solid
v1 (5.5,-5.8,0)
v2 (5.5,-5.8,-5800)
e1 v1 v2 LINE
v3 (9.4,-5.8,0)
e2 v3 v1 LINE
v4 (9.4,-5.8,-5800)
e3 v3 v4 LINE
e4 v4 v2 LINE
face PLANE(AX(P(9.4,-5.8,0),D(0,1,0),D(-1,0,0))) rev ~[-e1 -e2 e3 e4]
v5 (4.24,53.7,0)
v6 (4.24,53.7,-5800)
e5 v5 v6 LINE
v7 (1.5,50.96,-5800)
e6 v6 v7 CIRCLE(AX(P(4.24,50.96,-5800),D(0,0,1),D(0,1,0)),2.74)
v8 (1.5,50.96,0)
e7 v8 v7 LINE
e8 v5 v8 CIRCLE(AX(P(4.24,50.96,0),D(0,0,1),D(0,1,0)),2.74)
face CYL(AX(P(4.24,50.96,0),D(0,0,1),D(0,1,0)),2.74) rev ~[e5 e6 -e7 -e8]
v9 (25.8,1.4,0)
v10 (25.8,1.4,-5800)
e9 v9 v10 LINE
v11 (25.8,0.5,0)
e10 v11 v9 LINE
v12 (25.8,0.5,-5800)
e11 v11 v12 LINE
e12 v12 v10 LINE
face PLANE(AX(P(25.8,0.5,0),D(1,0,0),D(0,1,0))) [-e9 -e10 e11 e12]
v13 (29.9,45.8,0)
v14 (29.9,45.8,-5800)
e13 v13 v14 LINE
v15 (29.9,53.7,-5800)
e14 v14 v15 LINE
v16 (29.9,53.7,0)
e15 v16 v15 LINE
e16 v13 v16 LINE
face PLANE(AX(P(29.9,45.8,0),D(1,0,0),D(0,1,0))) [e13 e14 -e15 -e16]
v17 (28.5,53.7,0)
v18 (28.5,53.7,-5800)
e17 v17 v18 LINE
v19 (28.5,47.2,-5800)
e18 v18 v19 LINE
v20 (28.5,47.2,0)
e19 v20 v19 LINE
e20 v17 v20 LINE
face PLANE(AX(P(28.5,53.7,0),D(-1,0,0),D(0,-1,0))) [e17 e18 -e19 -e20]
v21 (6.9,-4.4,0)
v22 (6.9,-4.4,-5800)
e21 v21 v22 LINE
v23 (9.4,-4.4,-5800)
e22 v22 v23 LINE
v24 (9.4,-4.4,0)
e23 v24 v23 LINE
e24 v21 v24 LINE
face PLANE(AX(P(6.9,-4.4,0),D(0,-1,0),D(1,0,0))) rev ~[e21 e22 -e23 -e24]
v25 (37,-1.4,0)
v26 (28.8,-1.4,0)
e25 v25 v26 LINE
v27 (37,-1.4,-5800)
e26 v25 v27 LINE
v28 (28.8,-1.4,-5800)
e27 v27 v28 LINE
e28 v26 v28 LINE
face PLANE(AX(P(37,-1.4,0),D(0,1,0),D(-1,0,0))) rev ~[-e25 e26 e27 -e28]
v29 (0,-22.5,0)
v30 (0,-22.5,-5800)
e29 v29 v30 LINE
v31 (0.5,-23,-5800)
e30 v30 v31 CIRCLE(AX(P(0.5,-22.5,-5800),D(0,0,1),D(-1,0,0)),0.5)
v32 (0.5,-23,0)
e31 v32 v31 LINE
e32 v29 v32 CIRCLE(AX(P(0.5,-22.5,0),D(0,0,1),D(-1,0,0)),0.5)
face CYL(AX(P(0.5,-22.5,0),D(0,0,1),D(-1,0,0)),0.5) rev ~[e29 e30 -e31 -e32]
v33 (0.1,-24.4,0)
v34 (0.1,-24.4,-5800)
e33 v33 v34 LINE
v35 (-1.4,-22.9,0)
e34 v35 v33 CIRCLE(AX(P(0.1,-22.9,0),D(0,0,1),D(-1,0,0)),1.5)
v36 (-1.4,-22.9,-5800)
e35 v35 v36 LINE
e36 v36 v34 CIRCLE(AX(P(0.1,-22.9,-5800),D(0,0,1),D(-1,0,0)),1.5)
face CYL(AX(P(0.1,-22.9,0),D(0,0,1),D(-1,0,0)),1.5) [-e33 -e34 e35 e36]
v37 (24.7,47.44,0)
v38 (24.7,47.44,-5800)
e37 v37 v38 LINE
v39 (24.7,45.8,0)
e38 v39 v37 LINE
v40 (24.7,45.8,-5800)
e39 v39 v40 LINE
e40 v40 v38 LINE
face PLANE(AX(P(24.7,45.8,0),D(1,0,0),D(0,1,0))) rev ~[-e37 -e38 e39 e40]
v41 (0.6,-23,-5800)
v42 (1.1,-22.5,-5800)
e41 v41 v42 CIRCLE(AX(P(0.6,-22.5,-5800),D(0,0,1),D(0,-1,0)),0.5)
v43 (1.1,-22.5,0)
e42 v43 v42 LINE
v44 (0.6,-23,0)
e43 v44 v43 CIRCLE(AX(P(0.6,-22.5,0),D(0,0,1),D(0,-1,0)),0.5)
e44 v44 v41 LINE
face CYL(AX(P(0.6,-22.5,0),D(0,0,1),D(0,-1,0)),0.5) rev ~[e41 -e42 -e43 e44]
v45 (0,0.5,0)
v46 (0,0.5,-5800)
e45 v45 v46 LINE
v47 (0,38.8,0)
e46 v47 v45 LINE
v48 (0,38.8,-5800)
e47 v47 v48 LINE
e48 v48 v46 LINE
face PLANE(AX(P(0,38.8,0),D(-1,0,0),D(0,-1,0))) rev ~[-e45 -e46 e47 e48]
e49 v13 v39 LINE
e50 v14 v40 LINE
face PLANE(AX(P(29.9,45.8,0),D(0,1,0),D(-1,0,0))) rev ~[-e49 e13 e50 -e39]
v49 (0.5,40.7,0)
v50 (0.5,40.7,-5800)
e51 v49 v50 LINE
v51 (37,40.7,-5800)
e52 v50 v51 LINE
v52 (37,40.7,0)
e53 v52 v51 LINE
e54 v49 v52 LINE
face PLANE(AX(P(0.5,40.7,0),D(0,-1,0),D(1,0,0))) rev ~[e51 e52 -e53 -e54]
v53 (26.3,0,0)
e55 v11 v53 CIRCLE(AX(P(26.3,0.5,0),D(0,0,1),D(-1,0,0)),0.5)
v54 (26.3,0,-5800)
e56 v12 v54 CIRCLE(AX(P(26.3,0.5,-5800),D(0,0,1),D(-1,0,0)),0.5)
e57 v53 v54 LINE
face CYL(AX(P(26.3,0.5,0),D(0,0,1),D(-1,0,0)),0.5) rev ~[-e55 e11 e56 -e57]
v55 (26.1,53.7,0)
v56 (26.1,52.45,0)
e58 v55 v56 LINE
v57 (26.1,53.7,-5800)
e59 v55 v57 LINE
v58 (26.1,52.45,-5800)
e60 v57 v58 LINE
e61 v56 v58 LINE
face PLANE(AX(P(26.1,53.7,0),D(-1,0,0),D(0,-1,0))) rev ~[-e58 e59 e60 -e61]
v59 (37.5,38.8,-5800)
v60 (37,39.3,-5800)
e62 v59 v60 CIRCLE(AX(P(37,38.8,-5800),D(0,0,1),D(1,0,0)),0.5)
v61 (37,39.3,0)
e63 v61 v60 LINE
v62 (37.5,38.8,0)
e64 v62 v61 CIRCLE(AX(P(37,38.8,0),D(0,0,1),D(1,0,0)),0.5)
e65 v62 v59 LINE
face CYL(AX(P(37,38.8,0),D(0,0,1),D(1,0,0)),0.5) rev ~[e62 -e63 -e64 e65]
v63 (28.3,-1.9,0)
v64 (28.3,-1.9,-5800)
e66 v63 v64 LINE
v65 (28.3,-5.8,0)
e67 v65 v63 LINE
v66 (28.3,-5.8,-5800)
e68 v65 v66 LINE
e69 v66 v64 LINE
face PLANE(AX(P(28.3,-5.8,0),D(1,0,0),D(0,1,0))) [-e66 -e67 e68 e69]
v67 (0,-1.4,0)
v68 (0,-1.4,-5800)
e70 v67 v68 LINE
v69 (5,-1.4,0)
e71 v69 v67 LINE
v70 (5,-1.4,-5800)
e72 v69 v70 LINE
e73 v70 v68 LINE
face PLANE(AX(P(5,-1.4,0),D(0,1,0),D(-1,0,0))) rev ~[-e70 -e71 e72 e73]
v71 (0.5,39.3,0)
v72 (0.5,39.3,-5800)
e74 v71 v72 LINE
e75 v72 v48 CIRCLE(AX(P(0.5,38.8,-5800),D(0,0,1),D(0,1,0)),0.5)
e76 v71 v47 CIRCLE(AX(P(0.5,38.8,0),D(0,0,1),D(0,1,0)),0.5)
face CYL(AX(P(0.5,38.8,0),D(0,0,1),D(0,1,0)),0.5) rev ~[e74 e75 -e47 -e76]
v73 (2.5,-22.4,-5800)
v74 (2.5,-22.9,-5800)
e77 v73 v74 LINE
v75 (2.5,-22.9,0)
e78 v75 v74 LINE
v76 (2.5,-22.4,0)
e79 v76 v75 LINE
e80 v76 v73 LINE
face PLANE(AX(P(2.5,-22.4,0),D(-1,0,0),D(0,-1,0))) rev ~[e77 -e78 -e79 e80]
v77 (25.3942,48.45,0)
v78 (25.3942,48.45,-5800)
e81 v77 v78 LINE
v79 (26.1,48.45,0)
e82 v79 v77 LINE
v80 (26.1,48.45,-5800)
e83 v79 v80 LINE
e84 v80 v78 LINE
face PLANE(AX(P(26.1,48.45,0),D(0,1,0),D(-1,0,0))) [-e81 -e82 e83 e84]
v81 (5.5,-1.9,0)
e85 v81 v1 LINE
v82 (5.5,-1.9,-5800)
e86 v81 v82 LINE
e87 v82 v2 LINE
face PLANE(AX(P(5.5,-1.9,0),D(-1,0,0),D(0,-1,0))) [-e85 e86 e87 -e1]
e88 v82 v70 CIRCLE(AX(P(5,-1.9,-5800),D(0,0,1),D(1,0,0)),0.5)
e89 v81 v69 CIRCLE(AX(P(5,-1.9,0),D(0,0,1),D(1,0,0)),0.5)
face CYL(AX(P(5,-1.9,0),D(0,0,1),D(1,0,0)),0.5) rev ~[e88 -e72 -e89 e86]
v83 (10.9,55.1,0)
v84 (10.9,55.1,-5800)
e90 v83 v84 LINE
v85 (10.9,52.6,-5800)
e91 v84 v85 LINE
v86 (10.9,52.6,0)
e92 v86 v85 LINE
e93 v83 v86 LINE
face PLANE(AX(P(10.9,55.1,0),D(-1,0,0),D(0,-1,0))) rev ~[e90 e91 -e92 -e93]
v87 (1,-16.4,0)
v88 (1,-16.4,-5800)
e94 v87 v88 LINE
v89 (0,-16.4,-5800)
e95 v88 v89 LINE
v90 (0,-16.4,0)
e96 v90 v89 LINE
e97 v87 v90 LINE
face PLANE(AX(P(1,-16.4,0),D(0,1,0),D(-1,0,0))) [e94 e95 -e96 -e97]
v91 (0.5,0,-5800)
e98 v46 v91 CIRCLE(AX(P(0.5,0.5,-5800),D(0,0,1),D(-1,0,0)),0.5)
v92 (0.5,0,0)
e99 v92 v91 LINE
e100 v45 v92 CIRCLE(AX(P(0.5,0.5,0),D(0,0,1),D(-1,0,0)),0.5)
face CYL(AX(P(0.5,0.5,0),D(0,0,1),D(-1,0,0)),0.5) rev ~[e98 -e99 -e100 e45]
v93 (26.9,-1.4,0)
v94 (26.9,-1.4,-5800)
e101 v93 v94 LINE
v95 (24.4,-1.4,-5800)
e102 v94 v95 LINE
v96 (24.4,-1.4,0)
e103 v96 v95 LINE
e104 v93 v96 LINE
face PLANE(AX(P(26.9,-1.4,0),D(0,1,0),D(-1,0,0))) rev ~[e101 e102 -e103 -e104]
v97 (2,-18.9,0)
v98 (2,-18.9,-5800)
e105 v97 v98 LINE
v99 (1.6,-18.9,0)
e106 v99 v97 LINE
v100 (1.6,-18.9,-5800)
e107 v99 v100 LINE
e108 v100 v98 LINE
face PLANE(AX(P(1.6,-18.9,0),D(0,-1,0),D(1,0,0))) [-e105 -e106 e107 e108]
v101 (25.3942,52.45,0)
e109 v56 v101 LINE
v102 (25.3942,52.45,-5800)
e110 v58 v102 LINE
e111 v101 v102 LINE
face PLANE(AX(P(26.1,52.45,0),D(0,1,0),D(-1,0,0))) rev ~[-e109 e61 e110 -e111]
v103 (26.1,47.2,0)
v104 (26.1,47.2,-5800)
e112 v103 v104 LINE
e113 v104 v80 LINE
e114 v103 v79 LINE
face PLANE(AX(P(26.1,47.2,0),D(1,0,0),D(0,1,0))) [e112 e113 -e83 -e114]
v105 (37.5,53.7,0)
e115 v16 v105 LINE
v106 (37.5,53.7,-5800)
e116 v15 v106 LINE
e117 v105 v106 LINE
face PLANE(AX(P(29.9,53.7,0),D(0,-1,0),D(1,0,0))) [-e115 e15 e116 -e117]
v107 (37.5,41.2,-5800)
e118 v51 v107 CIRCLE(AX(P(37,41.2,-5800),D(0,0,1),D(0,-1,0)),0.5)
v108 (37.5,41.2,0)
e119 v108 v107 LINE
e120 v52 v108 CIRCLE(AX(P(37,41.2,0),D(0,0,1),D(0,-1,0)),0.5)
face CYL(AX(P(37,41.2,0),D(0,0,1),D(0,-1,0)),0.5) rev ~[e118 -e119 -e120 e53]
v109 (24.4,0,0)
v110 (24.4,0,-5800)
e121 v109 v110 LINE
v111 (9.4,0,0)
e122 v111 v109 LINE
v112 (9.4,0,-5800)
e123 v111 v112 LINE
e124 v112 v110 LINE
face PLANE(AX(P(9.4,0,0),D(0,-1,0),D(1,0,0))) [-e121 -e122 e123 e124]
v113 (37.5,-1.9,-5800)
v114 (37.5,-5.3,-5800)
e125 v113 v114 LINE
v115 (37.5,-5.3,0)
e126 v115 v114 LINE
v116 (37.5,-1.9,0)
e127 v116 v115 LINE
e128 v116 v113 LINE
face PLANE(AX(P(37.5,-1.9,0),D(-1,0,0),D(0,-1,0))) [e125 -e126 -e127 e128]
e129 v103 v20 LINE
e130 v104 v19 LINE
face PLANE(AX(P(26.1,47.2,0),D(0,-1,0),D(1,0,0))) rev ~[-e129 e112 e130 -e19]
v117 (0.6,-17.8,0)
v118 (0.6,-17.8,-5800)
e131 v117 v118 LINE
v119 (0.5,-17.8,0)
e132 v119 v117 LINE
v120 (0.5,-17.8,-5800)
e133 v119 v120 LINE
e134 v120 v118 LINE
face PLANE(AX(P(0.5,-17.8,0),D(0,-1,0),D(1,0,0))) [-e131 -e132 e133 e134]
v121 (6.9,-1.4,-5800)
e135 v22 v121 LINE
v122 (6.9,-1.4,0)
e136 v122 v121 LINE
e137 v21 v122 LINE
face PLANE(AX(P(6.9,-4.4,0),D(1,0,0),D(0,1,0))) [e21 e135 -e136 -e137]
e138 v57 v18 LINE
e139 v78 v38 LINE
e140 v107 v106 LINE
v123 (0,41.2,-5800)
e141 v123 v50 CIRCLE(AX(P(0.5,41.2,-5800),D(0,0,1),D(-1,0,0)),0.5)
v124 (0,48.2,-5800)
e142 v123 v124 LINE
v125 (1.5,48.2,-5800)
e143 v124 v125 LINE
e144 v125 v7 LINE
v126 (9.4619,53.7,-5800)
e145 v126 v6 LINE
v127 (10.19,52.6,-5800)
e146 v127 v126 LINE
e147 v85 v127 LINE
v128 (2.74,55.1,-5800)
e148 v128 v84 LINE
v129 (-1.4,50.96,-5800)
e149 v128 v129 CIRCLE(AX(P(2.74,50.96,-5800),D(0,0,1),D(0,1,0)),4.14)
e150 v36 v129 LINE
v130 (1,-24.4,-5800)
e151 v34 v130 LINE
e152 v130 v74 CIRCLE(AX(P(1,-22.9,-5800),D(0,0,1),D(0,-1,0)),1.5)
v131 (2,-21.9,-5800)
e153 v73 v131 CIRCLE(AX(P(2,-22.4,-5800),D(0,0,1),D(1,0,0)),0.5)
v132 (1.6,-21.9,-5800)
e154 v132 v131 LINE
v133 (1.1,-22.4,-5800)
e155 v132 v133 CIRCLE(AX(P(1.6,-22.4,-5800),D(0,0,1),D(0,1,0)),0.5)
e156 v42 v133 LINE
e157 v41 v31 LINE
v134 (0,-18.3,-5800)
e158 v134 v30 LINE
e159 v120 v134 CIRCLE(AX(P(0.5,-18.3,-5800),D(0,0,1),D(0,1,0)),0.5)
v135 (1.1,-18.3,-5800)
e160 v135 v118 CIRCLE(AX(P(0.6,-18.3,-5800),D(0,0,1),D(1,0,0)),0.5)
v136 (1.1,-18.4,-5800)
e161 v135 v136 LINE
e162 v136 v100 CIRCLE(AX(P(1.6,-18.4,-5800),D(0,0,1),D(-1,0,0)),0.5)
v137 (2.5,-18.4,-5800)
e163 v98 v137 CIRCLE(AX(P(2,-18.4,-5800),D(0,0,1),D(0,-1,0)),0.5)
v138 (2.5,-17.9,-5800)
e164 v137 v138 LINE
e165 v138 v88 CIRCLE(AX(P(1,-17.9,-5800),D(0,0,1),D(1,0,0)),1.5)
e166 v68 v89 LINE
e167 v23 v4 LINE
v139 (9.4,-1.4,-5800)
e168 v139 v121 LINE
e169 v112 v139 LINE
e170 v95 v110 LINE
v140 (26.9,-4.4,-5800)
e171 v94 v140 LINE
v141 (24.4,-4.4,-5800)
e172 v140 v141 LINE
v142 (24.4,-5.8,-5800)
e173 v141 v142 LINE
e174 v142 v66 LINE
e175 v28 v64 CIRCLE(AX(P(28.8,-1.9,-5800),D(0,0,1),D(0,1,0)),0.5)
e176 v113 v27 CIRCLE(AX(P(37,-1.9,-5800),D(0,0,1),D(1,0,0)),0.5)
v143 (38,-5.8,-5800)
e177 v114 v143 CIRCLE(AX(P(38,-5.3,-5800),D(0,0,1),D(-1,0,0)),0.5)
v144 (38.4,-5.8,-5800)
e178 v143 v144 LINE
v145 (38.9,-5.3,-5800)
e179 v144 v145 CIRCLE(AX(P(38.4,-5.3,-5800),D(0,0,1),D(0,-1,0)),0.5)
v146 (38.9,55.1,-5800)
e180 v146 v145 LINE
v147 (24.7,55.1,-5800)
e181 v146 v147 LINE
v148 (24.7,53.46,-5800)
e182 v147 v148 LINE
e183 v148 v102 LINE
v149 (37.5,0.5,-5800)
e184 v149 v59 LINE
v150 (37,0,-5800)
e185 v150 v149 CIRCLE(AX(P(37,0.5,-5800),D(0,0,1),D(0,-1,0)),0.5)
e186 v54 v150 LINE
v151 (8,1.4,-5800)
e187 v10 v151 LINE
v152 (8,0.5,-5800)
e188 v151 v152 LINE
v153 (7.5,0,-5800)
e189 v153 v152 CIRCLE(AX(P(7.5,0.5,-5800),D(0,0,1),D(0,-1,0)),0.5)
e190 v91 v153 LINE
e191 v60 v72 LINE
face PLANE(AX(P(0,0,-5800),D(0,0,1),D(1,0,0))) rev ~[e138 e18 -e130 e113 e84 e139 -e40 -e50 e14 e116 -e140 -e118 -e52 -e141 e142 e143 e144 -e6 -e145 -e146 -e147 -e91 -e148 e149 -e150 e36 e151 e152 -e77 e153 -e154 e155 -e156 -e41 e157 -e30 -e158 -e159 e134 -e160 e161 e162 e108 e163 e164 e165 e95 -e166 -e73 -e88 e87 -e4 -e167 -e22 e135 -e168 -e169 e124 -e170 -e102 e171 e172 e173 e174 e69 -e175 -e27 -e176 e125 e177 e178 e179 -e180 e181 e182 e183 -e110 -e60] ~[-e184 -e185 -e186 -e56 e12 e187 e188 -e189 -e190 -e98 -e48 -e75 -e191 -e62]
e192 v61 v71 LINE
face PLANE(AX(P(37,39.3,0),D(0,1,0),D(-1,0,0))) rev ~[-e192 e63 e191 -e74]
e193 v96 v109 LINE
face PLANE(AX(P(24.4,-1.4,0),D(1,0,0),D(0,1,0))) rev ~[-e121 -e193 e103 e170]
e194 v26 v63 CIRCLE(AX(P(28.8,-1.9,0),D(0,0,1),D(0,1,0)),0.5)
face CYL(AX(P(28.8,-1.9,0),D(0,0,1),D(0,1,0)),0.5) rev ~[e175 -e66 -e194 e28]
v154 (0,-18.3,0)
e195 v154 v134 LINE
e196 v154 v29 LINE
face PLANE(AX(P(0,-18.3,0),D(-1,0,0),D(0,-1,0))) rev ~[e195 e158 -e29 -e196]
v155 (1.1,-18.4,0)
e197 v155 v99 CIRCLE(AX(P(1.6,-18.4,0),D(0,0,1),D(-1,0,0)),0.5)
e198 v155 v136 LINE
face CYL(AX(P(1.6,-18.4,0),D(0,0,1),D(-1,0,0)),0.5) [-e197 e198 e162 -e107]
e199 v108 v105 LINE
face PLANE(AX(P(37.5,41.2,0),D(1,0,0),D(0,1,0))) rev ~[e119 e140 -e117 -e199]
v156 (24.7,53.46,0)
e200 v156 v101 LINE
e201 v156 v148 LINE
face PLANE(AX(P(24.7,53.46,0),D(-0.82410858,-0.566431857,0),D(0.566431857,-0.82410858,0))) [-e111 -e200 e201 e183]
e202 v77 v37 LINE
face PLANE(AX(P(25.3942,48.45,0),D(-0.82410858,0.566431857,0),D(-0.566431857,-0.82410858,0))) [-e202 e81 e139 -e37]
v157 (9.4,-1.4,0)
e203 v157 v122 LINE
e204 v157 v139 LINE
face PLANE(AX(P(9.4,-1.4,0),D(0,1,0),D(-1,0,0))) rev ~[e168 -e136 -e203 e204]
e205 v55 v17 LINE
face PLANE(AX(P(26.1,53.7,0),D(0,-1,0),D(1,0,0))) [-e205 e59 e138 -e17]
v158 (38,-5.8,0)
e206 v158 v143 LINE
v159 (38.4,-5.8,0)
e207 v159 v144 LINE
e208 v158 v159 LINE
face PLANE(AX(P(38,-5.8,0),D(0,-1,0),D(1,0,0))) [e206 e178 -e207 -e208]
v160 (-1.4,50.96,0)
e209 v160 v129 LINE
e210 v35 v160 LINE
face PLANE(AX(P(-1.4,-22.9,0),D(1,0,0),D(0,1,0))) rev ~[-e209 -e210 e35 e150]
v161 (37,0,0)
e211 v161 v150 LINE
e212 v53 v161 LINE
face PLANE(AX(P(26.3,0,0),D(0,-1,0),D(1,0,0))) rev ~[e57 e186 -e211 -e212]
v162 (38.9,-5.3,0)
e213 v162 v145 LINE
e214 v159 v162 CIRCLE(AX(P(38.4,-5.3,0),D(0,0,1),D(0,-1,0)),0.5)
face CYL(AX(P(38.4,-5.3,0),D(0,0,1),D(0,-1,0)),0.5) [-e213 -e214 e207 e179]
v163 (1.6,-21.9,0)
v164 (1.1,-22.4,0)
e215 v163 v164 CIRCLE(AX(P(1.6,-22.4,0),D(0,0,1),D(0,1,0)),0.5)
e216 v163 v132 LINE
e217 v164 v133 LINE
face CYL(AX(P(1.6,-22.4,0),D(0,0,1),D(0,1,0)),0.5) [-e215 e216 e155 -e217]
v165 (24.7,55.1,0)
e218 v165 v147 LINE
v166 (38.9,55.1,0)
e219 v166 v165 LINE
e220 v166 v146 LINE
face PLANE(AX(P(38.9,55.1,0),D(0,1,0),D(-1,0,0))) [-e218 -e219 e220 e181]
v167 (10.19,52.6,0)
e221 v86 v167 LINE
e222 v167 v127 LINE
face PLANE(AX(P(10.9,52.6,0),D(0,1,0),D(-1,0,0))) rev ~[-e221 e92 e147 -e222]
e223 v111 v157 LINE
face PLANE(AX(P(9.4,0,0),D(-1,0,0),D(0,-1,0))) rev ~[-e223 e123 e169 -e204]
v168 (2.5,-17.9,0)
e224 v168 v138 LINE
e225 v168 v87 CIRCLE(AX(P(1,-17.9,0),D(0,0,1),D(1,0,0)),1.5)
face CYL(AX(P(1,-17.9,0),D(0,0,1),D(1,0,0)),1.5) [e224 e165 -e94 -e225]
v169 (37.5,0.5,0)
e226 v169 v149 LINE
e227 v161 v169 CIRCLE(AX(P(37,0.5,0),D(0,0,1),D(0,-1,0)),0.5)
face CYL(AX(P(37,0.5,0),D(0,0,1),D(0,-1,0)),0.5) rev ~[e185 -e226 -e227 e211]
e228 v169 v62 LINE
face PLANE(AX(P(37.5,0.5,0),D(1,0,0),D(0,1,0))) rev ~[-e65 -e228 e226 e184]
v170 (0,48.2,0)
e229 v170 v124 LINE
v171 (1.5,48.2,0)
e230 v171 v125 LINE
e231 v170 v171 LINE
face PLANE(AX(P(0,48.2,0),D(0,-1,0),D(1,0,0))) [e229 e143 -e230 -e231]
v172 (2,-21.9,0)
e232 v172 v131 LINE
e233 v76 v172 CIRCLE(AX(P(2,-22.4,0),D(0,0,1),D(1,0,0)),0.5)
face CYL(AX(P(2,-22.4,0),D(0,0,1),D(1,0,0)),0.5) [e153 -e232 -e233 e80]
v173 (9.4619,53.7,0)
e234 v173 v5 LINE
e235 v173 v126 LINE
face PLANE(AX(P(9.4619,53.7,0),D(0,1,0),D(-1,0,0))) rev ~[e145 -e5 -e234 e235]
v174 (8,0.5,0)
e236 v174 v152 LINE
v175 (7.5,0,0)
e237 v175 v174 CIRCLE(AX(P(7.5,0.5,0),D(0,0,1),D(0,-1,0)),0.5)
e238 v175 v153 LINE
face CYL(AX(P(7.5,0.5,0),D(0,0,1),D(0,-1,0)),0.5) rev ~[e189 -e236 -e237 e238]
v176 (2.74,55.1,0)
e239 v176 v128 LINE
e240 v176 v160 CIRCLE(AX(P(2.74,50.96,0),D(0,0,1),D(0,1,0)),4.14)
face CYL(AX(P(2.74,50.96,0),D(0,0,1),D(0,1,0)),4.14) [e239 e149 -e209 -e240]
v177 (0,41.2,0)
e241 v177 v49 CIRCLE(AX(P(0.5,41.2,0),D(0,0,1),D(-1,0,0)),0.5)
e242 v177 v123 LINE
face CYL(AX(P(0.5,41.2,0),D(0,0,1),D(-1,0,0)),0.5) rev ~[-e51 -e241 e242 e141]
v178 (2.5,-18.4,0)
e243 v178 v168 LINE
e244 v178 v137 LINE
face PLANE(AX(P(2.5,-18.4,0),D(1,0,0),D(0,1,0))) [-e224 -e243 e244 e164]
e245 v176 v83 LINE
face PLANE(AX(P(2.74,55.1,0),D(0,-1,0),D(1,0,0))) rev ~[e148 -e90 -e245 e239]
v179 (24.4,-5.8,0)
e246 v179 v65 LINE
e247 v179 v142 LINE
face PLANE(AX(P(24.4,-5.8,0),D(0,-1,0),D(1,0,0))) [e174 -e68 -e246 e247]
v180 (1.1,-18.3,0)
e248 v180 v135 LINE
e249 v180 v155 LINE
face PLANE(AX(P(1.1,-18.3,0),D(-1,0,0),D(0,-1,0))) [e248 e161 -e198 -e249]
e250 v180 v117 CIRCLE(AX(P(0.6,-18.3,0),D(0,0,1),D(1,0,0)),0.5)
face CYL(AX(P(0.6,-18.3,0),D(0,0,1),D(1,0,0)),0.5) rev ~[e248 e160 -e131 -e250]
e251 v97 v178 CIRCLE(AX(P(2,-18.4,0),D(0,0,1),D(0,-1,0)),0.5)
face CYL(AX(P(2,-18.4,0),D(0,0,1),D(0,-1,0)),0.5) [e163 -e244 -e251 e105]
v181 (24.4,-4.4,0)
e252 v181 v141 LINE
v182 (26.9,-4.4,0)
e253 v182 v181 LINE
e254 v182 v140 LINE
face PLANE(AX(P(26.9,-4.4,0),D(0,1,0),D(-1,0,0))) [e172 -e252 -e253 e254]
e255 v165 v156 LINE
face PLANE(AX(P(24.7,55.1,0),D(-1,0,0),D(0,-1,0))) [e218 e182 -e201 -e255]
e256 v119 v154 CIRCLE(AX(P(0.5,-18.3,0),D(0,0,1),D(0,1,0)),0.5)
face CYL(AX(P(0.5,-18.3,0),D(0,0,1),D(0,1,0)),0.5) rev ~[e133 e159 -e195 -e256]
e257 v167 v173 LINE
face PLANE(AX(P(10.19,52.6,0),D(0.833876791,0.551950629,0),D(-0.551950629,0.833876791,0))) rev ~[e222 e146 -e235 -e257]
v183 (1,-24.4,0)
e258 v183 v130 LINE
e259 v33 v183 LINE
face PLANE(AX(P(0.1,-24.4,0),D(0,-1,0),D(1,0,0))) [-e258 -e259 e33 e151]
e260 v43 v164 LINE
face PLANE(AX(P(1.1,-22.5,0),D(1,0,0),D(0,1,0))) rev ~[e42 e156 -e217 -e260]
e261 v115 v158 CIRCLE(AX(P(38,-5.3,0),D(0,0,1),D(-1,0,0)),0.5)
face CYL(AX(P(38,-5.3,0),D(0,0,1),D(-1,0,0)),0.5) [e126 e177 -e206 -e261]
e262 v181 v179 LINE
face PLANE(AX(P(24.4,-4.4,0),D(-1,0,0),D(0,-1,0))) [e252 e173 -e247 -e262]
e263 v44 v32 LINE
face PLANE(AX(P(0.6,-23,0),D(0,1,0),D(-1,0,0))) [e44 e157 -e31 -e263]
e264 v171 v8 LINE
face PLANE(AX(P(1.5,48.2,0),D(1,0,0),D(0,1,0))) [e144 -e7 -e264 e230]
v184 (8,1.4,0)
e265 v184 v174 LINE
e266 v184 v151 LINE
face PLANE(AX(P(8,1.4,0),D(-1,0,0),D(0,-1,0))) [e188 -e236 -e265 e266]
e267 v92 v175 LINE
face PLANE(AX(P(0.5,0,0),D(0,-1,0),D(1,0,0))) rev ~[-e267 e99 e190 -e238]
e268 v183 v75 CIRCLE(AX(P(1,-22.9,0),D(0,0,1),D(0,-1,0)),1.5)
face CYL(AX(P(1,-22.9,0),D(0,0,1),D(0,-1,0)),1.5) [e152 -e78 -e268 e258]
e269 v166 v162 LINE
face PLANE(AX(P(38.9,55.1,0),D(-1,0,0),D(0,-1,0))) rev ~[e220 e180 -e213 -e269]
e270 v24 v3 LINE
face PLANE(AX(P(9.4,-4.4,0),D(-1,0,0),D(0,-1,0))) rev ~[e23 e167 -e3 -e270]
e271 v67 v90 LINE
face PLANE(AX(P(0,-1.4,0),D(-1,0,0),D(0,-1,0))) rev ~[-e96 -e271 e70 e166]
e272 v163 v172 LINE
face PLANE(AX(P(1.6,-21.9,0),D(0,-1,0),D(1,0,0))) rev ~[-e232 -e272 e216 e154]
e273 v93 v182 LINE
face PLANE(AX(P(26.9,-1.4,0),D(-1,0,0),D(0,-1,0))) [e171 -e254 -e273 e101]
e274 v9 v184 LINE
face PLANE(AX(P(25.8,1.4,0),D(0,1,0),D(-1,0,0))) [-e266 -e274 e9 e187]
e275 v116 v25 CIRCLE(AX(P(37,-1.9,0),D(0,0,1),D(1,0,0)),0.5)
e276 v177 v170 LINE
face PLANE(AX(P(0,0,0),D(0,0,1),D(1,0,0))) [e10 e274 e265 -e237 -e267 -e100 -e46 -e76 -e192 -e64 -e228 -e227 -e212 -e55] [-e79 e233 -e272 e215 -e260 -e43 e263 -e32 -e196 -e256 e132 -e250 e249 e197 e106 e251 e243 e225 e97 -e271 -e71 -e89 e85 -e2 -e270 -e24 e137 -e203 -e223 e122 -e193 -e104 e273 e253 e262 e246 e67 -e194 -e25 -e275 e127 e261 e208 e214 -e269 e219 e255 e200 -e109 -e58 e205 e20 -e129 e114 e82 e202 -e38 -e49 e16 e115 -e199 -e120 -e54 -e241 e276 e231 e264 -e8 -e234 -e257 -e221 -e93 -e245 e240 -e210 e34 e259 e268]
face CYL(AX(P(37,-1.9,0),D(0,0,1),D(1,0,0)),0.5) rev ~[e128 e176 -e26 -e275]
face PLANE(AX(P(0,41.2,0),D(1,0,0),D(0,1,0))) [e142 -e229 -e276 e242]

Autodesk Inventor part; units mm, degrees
ref_plane "YZ Plane" through (0, 0, 0) normal (1, 0, 0) x (0, 1, 0)
ref_plane "XZ Plane" through (0, 0, 0) normal (0, 1, 0) x (-1, 0, 0)
ref_plane "XY Plane" through (0, 0, 0) normal (0, 0, 1) x (1, 0, 0)
sketch "Boceto1" plane through (0, 0, 0) normal (0, 0, 1) x (1, 0, 0)
  line L0 (37.5, 0.5) -> (37.5, 38.8)
  line L1 (37, 39.3) -> (0.5, 39.3)
  line L2 (0, 38.8) -> (0, 0.5)
  line L3 (0.5, 40.7) -> (37, 40.7)
  line L4 (38.9, 55.1) -> (38.9, -5.3)
  line L5 (-1.4, -22.9) -> (-1.4, 50.96)
  line L6 (37.5, 41.2) -> (37.5, 53.7)
  line L7 (38.9, 55.1) -> (24.7, 55.1)
  line L8 (24.7, 55.1) -> (24.7, 53.46)
  line L9 (28.5, 53.7) -> (28.5, 47.2)
  line L10 (29.9, 45.8) -> (29.9, 53.7)
  line L11 (29.9, 45.8) -> (24.7, 45.8)
  line L12 (24.7, 45.8) -> (24.7, 47.44)
  line L13 (26.1, 47.2) -> (28.5, 47.2)
  line L14 (26.1, 48.45) -> (25.3942, 48.45)
  line L15 (25.3942, 48.45) -> (24.7, 47.44)
  line L16 (26.1, 52.45) -> (25.3942, 52.45)
  line L17 (0, 41.2) -> (0, 48.2)
  line L18 (0, 48.2) -> (1.5, 48.2)
  line L19 (1.5, 48.2) -> (1.5, 50.96)
  line L20 (2.74, 55.1) -> (10.9, 55.1)
  line L21 (9.4619, 53.7) -> (4.24, 53.7)
  line L22 (10.9, 55.1) -> (10.9, 52.6)
  line L23 (10.9, 52.6) -> (10.19, 52.6)
  line L24 (10.19, 52.6) -> (9.4619, 53.7)
  line L25 (0, -24.4) -> (0.1, -24.4)
  line L26 (37.5, -1.9) -> (37.5, -5.3)
  line L27 (38, -5.8) -> (38.4, -5.8)
  line L28 (26.9, -1.4) -> (26.9, -4.4)
  line L29 (28.3, -5.8) -> (28.3, -1.9)
  line L30 (5.5, -1.9) -> (5.5, -5.8)
  line L31 (6.9, -4.4) -> (6.9, -1.4)
  line L32 (6.9, -4.4) -> (9.4, -4.4)
  line L33 (9.4, -4.4) -> (9.4, -5.8)
  line L34 (9.4, -5.8) -> (5.5, -5.8)
  line L35 (26.9, -4.4) -> (24.4, -4.4)
  line L36 (24.4, -4.4) -> (24.4, -5.8)
  line L37 (24.4, -5.8) -> (28.3, -5.8)
  line L38 (25.8, 0.5) -> (25.8, 1.4)
  line L39 (25.8, 1.4) -> (8, 1.4)
  line L40 (0.5, 0) -> (7.5, 0)
  line L41 (26.3, 0) -> (37, 0)
  line L42 (24.4, -1.4) -> (24.4, 0)
  line L43 (9.4, 0) -> (9.4, -1.4)
  line L44 (26.1, 53.7) -> (28.5, 53.7)
  line L45 (29.9, 53.7) -> (37.5, 53.7)
  line L46 (37, -1.4) -> (28.8, -1.4)
  line L47 (9.4, -1.4) -> (6.9, -1.4)
  line L48 (5, -1.4) -> (0, -1.4)
  arc A0 (4.24, 53.7) -> (1.5, 50.96) centre (4.24, 50.96) ccw
  arc A1 (2.74, 55.1) -> (-1.4, 50.96) centre (2.74, 50.96) ccw
  line L49 (26.9, -1.4) -> (24.4, -1.4)
  line L50 (26.9, -1.4) -> (24.4, -1.4)
  line L51 (8, 1.4) -> (8, 0.5)
  line L52 (9.4, 0) -> (24.4, 0)
  line L53 (24.7, 53.46) -> (25.3942, 52.45)
  line L54 (26.1, 53.7) -> (26.1, 52.45)
  line L55 (26.1, 47.2) -> (26.1, 48.45)
  line L56 (0, -24.4) -> (1, -24.4)
  line L57 (0.6, -23) -> (0.5, -23)
  line L58 (0.5, -17.8) -> (0.6, -17.8)
  line L59 (1, -16.4) -> (0, -16.4)
  line L60 (1.1, -18.3) -> (1.1, -18.4)
  line L61 (1.6, -18.9) -> (2, -18.9)
  line L62 (2.5, -18.4) -> (2.5, -17.9)
  line L63 (1.1, -22.5) -> (1.1, -22.4)
  line L64 (1.6, -21.9) -> (2, -21.9)
  line L65 (2.5, -22.4) -> (2.5, -22.9)
  line L66 (0, -1.4) -> (0, -16.4)
  line L67 (0, -18.3) -> (0, -22.5)
  arc A2 (2.5, -17.9) -> (1, -16.4) centre (1, -17.9) ccw
  arc A3 (1, -24.4) -> (2.5, -22.9) centre (1, -22.9) ccw
  arc A4 (-1.4, -22.9) -> (0.1, -24.4) centre (0.1, -22.9) ccw
  arc A5 (1.1, -18.4) -> (1.6, -18.9) centre (1.6, -18.4) ccw
  arc A6 (1.1, -18.3) -> (0.6, -17.8) centre (0.6, -18.3) ccw
  arc A7 (2, -18.9) -> (2.5, -18.4) centre (2, -18.4) ccw
  arc A8 (2.5, -22.4) -> (2, -21.9) centre (2, -22.4) ccw
  arc A9 (1.6, -21.9) -> (1.1, -22.4) centre (1.6, -22.4) ccw
  arc A10 (0.6, -23) -> (1.1, -22.5) centre (0.6, -22.5) ccw
  arc A11 (5.5, -1.9) -> (5, -1.4) centre (5, -1.9) ccw
  arc A12 (7.5, 0) -> (8, 0.5) centre (7.5, 0.5) ccw
  arc A13 (0, 0.5) -> (0.5, 0) centre (0.5, 0.5) ccw
  arc A14 (28.8, -1.4) -> (28.3, -1.9) centre (28.8, -1.9) ccw
  arc A15 (25.8, 0.5) -> (26.3, 0) centre (26.3, 0.5) ccw
  arc A16 (37, 0) -> (37.5, 0.5) centre (37, 0.5) ccw
  arc A17 (37.5, -1.9) -> (37, -1.4) centre (37, -1.9) ccw
  arc A18 (37.5, -5.3) -> (38, -5.8) centre (38, -5.3) ccw
  arc A19 (38.4, -5.8) -> (38.9, -5.3) centre (38.4, -5.3) ccw
  arc A20 (0.5, 39.3) -> (0, 38.8) centre (0.5, 38.8) ccw
  arc A21 (37.5, 38.8) -> (37, 39.3) centre (37, 38.8) ccw
  arc A22 (37, 40.7) -> (37.5, 41.2) centre (37, 41.2) ccw
  arc A23 (0, 41.2) -> (0.5, 40.7) centre (0.5, 41.2) ccw
  arc A24 (0, -22.5) -> (0.5, -23) centre (0.5, -22.5) ccw
  arc A25 (0.5, -17.8) -> (0, -18.3) centre (0.5, -18.3) ccw
  point P0 (0, 0)
  point P1 (9.4, -5.1)
  point P2 (27.3, 45.8)
  point P3 (28.5, 50.45)
  point P4 (0, -23)
  point P5 (0, -17.8)
  point P6 (1.1, -21.9)
  point P7 (0, -20.4)
  dimension "d10" = 60.9
  dimension "d11" = 23
  dimension "d13" = 39.3
  dimension "d14" = 1.4
  dimension "d15" = 1.4
  dimension "d17" = 1.4
  dimension "d18" = 1.4
  dimension "d20" = 1.4
  dimension "d22" = 1.4
  dimension "d23" = 1.4
  dimension "d26" = 1.4
  dimension "d27" = 1.4
  dimension "d28" = 1.4
  dimension "d31" = 1.4
  dimension "d34" = 40.3
  dimension "d35" = 37.9
  dimension "d36" = 39.3
  dimension "d37" = 37.5
  dimension "d38" = 37.5
  dimension "d40" = 14.2
  dimension "d41" = 13.8
  dimension "d42" = 2.5
  dimension "d43" = 0.71
  dimension "d45" = 2.9
  dimension "d46" = 14.4
  dimension "d47" = 33.5
  dimension "d48" = 7.5
  dimension "d49" = 79.5
  dimension "d51" = 2.74
  dimension "d58" = 4.14
  dimension "d59" = 6.9
  dimension "d60" = 1.4
  dimension "d61" = 20
  dimension "d62" = 6.9
  dimension "d64" = 1.4
  dimension "d65" = 3
  dimension "d66" = 3
  dimension "d68" = 2.5
  dimension "d69" = 2.5
  dimension "d70" = 15
  dimension "d71" = 2.5
  dimension "d73" = 1.4
  dimension "d74" = 1.4
  dimension "d75" = 1.4
  dimension "d76" = 1.4
  dimension "d82" = 1.4
  dimension "d83" = 1.4
  dimension "d84" = 1.4
  dimension "d85" = 1.4
  dimension "d86" = 1.4
  dimension "d88" = 2.4
  dimension "d95" = 6.02
  dimension "d99" = 111
  dimension "d100" = 2.4
  dimension "d109" = 0.7058
  dimension "d110" = 0.7058
  dimension "d112" = 5.2
  dimension "d115" = 2.6
  dimension "d116" = 2.6
  dimension "d117" = 1.5
  dimension "d118" = 1.5
  dimension "d119" = 3
  dimension "d120" = 1.4
  dimension "d121" = 1.4
extrude "Extrusión1" add sketch "Boceto1" against normal blind 5800
properties part number "SP40-02 HOJA PUERTA BATIENTE INT - EXT" material "Aluminio"
